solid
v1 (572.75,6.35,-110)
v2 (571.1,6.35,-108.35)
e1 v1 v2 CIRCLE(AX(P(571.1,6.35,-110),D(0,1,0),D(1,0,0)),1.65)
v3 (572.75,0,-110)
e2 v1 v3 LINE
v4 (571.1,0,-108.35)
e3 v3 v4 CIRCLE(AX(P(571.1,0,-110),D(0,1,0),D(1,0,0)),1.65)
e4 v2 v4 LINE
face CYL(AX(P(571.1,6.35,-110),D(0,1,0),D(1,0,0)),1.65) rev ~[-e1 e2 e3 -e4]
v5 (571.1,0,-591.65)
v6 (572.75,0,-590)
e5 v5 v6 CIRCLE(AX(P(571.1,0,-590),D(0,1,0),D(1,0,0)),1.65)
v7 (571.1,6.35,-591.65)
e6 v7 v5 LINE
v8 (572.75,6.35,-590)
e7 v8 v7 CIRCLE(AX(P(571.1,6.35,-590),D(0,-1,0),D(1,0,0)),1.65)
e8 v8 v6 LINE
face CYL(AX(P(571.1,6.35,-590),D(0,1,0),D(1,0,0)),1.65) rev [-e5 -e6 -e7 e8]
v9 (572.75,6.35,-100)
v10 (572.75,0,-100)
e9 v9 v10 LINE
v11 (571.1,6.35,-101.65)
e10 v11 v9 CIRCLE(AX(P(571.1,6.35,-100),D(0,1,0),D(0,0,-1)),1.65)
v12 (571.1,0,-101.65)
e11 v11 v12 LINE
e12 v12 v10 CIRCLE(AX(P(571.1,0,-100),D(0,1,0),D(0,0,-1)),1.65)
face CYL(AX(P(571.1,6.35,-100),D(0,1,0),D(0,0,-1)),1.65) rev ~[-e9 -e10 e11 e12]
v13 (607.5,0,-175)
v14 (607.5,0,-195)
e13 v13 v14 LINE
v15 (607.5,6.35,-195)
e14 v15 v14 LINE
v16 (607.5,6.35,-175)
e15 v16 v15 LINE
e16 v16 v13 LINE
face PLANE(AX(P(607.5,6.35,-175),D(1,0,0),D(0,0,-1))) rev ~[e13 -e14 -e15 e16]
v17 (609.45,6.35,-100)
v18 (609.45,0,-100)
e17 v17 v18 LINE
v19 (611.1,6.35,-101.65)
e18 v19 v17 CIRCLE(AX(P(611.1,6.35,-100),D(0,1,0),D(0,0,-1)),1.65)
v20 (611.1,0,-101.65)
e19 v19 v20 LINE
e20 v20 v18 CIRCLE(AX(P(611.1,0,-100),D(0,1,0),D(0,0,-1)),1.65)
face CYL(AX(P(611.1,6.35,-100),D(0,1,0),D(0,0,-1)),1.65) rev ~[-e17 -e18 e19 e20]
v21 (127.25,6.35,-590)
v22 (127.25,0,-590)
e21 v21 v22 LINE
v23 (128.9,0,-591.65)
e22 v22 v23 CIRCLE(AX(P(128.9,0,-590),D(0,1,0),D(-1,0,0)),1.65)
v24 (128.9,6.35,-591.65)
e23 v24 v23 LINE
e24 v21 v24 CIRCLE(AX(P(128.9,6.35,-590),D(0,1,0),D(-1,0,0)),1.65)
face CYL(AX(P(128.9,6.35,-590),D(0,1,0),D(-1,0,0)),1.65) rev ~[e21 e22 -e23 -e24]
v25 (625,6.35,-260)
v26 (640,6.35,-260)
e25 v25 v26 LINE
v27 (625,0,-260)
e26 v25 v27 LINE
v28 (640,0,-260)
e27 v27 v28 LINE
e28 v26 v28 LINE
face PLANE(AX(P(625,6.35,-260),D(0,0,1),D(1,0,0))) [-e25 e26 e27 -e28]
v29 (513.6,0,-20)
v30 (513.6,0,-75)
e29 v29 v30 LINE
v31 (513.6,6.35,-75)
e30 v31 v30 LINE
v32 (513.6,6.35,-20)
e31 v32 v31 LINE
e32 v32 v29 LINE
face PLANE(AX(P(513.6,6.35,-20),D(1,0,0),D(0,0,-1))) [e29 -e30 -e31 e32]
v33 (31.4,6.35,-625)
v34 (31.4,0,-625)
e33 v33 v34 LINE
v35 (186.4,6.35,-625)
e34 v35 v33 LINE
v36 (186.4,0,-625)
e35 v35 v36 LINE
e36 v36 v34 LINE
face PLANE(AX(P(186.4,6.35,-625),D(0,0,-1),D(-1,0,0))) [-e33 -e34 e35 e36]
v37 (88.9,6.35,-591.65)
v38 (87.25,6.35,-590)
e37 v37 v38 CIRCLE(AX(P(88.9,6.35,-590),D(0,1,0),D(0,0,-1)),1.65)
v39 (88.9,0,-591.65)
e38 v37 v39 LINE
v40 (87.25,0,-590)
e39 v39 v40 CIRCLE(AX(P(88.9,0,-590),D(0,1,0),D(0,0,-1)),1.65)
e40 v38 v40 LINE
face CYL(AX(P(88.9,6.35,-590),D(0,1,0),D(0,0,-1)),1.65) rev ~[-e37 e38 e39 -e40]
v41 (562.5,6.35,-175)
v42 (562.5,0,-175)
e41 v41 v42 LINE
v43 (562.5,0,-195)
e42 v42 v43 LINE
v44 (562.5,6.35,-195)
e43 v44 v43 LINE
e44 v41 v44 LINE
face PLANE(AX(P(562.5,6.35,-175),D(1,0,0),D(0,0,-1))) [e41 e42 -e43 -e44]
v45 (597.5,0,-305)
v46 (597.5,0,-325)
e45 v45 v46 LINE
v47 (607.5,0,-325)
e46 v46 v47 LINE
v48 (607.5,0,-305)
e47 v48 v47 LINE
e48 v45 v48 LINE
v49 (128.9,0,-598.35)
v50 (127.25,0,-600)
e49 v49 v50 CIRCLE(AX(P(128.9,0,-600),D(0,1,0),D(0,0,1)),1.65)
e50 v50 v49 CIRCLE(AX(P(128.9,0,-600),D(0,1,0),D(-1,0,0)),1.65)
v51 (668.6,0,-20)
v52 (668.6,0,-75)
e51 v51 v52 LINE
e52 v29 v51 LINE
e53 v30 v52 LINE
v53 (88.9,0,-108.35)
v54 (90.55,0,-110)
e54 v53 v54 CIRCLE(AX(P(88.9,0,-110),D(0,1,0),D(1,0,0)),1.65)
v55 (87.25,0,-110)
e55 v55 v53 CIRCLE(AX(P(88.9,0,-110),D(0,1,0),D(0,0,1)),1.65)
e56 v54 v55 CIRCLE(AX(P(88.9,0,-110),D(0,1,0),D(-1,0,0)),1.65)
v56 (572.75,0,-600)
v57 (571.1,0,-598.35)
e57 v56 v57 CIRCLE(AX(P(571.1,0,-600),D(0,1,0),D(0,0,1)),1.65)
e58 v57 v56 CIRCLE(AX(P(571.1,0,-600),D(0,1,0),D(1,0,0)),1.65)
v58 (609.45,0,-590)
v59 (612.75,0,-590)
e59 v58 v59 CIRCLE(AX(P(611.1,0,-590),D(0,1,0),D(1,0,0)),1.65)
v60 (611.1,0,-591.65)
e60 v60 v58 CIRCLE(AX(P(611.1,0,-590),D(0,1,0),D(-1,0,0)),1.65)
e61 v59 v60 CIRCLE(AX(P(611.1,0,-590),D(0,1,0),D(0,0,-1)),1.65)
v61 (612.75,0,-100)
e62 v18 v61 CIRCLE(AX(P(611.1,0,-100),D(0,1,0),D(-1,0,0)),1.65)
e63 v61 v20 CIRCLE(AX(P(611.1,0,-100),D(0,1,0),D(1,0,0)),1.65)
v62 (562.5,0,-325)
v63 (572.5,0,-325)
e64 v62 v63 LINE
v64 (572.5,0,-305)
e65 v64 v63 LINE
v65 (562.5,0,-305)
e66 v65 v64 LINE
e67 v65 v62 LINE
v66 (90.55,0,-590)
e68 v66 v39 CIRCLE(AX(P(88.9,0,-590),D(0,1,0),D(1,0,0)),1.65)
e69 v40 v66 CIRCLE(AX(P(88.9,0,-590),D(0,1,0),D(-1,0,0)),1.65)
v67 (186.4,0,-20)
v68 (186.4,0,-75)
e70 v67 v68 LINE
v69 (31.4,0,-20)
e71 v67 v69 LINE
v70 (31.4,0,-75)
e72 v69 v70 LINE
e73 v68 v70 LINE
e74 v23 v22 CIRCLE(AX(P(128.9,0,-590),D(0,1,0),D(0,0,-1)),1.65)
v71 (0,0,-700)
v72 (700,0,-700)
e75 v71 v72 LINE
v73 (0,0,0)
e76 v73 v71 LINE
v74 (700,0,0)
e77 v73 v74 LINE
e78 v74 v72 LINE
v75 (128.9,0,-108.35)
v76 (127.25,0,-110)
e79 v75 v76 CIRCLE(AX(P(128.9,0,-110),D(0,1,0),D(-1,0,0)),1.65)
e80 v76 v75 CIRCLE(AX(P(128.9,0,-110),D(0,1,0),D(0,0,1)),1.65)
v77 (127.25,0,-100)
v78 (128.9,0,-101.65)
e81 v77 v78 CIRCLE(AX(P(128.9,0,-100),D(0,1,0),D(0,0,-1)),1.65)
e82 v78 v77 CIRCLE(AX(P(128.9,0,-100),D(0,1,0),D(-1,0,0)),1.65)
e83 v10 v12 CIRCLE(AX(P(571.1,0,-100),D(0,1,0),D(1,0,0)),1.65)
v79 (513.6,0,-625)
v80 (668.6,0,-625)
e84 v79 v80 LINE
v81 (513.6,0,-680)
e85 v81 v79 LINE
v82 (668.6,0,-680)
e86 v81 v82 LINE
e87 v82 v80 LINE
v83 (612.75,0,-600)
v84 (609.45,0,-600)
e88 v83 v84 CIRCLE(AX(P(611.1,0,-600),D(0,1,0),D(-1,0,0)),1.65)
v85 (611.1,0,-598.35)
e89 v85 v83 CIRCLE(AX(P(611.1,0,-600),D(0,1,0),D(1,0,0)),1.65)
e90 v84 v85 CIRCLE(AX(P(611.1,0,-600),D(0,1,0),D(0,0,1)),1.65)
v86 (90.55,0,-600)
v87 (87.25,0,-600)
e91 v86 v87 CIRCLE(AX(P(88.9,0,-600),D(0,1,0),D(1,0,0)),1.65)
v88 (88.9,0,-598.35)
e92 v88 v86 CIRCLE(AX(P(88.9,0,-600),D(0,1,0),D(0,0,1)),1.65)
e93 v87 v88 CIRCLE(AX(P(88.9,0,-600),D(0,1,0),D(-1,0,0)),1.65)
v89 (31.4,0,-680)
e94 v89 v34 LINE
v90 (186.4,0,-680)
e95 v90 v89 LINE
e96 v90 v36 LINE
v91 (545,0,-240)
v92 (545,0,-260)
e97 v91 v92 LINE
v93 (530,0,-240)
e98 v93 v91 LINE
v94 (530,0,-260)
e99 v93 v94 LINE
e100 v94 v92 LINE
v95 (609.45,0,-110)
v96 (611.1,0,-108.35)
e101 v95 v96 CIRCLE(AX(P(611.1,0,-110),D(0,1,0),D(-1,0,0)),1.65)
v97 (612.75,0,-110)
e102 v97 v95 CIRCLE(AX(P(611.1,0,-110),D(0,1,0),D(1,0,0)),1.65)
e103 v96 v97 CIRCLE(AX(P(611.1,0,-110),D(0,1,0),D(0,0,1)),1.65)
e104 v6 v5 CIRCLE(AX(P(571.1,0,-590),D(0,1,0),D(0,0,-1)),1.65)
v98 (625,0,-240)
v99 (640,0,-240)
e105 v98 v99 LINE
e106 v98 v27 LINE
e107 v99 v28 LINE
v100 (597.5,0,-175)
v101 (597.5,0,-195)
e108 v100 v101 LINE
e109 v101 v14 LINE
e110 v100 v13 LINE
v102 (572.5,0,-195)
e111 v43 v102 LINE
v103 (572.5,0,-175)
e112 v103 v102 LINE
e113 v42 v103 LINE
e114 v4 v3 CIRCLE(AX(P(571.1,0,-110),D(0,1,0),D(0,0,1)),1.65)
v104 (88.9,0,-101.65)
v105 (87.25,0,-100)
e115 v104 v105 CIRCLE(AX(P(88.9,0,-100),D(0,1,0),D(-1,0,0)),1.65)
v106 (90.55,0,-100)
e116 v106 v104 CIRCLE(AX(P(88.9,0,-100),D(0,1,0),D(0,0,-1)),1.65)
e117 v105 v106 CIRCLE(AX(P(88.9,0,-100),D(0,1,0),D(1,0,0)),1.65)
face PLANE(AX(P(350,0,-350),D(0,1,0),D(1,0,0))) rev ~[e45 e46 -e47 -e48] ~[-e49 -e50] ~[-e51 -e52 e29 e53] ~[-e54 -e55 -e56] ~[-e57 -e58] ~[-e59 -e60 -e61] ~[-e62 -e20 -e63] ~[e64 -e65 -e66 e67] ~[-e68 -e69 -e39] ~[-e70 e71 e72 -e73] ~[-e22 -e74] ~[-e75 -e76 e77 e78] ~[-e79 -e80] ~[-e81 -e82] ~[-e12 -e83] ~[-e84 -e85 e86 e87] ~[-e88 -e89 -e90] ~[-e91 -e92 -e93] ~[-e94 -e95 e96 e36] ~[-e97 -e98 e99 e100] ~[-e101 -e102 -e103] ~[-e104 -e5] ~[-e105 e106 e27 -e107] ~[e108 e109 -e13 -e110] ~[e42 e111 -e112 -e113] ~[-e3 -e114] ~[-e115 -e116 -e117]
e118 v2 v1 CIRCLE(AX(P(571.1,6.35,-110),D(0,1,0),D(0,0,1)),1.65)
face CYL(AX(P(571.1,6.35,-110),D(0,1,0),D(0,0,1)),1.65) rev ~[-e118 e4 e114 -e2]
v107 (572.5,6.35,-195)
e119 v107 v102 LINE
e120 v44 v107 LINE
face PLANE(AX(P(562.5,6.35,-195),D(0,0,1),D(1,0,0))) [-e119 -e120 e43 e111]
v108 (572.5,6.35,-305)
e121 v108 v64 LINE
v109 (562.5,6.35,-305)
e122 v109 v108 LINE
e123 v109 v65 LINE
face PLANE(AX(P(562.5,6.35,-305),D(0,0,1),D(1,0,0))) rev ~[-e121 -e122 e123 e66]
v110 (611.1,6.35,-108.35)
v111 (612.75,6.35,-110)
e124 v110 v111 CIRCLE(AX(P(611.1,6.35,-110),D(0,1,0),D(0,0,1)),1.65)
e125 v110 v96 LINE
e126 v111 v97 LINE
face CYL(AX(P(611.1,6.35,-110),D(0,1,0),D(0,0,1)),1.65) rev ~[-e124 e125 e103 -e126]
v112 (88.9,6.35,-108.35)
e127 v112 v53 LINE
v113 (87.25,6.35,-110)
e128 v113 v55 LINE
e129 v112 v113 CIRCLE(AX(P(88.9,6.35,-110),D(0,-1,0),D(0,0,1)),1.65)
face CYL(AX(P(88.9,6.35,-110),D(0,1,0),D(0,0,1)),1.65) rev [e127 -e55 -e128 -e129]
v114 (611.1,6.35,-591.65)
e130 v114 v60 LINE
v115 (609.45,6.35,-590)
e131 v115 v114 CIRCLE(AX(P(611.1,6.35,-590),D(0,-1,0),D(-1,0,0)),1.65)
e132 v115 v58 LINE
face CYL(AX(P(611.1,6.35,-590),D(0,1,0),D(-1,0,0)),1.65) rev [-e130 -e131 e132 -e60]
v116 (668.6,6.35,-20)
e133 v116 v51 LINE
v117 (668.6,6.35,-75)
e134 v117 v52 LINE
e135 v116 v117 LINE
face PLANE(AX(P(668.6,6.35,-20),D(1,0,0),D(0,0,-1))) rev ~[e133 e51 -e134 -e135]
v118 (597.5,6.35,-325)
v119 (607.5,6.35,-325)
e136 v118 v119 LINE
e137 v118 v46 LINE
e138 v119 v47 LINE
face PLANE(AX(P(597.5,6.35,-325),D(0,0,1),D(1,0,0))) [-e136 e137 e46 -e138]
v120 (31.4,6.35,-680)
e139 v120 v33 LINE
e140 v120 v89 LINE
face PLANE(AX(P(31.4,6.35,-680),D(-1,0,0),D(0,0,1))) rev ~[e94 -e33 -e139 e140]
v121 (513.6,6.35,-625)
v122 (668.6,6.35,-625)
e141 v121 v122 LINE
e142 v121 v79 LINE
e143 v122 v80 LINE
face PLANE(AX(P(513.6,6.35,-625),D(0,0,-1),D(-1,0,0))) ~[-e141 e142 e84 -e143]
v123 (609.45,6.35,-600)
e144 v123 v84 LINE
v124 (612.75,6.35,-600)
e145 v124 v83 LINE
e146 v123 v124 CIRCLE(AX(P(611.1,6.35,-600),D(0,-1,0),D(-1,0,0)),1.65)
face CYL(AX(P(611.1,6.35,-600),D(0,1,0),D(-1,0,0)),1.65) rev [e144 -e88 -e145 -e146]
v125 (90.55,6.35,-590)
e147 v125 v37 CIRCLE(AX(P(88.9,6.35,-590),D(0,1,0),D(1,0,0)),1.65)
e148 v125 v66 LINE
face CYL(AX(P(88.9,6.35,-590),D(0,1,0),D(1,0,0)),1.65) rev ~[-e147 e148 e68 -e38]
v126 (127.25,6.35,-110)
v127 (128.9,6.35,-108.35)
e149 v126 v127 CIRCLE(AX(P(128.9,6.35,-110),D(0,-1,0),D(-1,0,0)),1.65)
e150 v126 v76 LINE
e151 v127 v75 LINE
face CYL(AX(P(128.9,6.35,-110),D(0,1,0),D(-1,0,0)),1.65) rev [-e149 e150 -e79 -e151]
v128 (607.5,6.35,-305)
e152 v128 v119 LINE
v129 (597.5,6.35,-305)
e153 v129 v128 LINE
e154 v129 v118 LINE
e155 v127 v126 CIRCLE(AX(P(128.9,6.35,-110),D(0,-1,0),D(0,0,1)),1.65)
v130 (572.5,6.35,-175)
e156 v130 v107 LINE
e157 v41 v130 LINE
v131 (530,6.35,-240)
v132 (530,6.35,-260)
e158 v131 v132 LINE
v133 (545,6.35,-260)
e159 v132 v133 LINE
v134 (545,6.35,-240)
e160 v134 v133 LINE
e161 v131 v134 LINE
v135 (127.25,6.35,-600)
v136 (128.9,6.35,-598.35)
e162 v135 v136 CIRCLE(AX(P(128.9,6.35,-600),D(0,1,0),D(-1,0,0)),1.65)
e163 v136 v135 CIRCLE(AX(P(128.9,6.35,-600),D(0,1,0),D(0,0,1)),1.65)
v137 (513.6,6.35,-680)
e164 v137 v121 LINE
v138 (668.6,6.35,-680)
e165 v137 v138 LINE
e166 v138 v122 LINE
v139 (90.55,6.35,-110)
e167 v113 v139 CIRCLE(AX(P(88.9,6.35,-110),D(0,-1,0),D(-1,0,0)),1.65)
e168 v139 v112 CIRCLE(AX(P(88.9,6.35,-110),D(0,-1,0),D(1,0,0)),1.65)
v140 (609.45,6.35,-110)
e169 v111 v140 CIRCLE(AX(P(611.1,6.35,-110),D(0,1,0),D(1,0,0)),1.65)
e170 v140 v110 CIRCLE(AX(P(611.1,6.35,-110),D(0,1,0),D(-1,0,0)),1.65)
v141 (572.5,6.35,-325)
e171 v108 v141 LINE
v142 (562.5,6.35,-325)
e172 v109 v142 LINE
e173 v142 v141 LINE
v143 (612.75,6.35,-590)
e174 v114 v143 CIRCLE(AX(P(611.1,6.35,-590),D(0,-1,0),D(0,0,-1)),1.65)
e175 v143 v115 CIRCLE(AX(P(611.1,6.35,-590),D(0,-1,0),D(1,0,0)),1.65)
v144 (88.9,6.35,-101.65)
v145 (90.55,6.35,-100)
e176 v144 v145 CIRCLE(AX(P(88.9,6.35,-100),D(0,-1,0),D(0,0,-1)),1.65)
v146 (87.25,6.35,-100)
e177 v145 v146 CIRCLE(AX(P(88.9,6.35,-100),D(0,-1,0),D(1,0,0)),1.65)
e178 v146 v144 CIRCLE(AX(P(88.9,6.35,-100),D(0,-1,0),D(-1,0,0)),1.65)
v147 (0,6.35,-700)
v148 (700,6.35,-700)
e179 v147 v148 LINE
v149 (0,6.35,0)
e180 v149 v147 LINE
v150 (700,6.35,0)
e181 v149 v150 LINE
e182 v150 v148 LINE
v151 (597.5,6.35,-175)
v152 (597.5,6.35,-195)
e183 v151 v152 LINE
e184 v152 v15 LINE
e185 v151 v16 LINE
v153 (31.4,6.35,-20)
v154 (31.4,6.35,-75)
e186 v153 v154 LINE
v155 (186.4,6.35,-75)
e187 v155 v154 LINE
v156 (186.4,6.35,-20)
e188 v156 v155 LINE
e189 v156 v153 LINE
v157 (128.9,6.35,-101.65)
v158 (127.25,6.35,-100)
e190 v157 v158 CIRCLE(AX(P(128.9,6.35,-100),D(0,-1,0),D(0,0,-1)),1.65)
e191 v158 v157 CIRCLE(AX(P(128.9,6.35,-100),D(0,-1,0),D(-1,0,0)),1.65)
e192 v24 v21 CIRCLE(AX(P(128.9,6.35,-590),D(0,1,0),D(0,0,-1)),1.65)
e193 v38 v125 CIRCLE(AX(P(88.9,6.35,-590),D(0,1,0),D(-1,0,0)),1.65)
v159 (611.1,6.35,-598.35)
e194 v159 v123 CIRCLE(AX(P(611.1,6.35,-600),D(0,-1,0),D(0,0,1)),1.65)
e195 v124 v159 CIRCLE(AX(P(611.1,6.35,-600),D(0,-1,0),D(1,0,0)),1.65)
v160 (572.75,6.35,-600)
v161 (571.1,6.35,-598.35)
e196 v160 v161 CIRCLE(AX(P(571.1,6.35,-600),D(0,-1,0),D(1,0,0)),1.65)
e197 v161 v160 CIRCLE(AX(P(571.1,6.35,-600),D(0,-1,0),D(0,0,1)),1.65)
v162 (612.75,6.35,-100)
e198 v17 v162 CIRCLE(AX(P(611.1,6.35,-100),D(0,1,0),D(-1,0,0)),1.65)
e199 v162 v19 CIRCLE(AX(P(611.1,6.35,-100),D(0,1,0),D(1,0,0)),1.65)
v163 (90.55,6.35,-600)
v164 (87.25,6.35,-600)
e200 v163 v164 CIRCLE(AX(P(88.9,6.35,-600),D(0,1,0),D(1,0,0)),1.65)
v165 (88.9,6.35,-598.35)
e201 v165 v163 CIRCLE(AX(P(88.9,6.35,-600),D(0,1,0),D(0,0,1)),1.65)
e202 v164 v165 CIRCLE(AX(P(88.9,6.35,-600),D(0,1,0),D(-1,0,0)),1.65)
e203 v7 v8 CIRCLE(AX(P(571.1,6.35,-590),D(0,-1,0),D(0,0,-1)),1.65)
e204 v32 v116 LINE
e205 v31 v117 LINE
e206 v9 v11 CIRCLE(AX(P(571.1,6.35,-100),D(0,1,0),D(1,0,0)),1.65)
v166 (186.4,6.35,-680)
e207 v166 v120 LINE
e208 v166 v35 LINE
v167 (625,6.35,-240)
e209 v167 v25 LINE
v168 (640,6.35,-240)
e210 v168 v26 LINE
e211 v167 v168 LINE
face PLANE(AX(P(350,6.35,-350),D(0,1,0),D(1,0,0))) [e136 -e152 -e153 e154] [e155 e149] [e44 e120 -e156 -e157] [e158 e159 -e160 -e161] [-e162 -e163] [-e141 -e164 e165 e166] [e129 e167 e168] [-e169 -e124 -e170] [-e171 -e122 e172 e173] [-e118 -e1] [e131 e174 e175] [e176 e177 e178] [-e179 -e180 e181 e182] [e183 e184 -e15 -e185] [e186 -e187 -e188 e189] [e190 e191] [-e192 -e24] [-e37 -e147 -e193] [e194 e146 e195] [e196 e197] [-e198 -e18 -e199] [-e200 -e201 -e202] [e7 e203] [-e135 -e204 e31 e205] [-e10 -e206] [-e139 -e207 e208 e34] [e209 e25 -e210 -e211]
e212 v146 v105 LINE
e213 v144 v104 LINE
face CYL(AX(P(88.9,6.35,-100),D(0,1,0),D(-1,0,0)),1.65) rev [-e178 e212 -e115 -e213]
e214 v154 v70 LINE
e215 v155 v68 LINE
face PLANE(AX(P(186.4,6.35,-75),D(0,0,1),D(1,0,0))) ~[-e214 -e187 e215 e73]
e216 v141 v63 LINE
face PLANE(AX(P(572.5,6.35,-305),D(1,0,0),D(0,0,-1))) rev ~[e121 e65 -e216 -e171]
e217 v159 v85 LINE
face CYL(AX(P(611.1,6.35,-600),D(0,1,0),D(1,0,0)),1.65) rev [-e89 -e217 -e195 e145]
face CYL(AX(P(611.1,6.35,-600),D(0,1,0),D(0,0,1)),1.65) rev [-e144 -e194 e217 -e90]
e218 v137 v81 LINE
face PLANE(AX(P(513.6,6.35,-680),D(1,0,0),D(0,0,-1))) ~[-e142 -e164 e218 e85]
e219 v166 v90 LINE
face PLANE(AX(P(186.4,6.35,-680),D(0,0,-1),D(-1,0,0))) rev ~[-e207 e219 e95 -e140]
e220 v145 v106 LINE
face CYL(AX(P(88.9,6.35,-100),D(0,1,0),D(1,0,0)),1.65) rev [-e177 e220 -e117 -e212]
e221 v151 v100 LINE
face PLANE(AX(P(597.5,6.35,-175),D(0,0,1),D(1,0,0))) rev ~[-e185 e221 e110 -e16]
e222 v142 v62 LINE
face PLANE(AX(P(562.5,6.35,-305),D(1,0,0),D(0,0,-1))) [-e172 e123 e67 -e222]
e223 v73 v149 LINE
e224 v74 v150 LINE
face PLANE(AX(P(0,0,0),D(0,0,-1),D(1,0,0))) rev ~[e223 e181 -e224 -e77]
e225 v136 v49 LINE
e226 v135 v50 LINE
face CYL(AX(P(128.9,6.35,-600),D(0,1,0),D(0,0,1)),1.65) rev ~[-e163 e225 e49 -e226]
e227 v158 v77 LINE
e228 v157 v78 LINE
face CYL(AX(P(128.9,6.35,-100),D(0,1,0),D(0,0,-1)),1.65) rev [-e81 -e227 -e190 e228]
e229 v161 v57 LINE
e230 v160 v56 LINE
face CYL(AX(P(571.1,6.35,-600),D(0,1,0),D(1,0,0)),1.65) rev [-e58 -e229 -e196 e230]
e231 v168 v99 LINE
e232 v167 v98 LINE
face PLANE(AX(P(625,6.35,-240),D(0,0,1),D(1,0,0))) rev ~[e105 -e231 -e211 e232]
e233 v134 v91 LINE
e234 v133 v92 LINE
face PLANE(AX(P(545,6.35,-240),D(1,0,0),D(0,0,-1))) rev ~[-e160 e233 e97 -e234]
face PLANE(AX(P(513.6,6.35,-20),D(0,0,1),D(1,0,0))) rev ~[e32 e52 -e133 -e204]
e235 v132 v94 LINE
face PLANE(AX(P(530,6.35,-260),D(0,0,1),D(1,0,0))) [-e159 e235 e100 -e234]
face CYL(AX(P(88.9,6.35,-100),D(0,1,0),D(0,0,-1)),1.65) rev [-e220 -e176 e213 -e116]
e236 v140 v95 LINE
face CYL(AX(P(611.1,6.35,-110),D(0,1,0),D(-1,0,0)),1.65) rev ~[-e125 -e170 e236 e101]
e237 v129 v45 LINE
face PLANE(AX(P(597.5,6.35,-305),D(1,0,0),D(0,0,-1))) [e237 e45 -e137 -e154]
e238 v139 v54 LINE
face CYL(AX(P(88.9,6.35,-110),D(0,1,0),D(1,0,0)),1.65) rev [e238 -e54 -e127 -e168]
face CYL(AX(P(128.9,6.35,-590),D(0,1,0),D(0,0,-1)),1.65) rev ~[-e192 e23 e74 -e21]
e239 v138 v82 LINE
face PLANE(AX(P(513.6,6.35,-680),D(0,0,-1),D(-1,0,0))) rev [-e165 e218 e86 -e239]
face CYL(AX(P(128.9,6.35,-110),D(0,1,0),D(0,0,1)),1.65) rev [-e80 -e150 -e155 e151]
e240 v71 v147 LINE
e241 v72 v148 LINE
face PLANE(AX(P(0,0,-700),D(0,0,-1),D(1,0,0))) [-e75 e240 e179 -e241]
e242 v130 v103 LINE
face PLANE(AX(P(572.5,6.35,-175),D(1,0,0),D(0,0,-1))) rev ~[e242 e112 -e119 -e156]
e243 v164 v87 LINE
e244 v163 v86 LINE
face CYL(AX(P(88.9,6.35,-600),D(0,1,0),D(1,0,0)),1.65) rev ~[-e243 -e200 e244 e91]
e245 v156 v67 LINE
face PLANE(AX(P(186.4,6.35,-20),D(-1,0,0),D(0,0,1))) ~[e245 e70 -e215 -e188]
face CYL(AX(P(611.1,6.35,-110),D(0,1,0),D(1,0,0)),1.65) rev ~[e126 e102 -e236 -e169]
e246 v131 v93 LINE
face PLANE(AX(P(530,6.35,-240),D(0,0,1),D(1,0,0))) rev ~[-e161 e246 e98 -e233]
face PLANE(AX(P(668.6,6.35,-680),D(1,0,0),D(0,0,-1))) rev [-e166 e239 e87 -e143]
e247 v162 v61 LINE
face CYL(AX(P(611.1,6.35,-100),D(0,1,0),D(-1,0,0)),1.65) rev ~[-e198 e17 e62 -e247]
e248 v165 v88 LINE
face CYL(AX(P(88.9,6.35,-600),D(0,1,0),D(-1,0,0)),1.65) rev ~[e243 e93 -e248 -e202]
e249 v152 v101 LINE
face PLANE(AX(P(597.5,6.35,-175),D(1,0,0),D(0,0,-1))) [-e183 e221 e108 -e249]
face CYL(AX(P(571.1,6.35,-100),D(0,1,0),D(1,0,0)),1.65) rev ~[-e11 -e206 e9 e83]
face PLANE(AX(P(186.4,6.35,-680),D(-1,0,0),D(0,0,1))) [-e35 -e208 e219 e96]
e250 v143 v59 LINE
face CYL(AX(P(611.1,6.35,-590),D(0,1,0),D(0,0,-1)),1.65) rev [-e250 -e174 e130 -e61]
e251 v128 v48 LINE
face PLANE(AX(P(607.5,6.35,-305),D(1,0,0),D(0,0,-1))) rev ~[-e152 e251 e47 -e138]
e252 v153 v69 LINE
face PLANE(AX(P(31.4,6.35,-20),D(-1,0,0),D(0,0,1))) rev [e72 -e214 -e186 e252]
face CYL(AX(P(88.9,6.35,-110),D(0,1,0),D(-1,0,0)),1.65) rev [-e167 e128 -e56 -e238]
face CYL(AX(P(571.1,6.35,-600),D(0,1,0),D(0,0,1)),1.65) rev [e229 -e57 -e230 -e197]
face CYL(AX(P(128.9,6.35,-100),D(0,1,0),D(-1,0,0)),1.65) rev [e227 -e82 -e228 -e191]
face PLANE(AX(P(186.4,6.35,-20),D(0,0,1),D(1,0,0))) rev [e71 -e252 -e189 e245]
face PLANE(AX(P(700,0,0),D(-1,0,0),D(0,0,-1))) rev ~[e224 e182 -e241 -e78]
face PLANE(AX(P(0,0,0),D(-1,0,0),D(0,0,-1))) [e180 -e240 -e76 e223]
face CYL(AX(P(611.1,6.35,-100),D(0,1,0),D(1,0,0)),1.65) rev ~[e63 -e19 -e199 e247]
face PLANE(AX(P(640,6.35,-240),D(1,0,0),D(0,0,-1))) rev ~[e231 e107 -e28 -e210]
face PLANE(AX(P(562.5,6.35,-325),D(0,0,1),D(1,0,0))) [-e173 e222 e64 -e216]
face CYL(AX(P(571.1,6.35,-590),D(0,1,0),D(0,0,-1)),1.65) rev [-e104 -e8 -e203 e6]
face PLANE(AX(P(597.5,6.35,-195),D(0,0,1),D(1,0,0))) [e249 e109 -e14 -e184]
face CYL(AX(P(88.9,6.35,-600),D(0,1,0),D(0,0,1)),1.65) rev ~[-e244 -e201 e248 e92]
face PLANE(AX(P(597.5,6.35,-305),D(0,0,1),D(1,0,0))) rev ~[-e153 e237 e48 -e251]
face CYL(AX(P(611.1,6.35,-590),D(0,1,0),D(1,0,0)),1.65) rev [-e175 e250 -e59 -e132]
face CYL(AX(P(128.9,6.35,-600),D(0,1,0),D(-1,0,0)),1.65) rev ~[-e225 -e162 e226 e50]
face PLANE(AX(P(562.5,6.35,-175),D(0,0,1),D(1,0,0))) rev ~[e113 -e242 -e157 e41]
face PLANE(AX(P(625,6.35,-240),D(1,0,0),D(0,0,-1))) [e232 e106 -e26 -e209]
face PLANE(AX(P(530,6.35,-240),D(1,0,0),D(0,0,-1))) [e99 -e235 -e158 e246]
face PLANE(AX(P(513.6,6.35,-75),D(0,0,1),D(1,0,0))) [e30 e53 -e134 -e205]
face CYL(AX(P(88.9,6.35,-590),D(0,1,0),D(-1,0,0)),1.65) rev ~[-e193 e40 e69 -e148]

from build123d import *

# Parameters (mm, degrees)
SKETCH1_W                                  = 700
SKETCH1_H                                  = 700
BOSS_EXTRUDE1_DEPTH                        = 6.35
SKETCH2_W                                  = 155
SKETCH2_H                                  = 55
CUT_EXTRUDE2_DEPTH                         = 10
MIRROR1_AT_THE_SECOND_PLANE_COPY_1_SKETC_W = 155
MIRROR1_AT_THE_SECOND_PLANE_COPY_1_SKETC_H = 55
MIRROR1_AT_THE_SECOND_PLANE_COPY_1_DEPTH   = 10
SKETCH3_W                                  = 10
SKETCH3_H                                  = 20
SKETCH3_W_2                                = 15
CUT_EXTRUDE3_DEPTH                         = 990.96985939


with BuildPart() as part:
    # Sketch1 → Boss-Extrude1 (new body)
    with BuildSketch(Plane(origin=(0, 0, 0), x_dir=(1, 0, 0), z_dir=(0, 1, 0))):
        with Locations((350, 350)):
            Rectangle(SKETCH1_W, SKETCH1_H)
    extrude(amount=BOSS_EXTRUDE1_DEPTH)

    # Sketch2 → Cut-Extrude2 (cut)
    with BuildSketch(Plane(origin=(0, 6.35, 0), x_dir=(1, 0, 0), z_dir=(0, 1, 0))):
        with BuildLine():
            ThreePointArc((572.75, 110), (569.933273811, 111.166726189), (571.1, 108.35))
            Line((571.1, 108.35), (571.1, 110))
            Line((571.1, 110), (572.75, 110))
        make_face()
        with BuildLine():
            Line((571.1, 110), (571.1, 108.35))
            ThreePointArc((571.1, 108.35), (572.266726189, 108.833273811), (572.75, 110))
            Line((572.75, 110), (571.1, 110))
        make_face()
        with BuildLine():
            ThreePointArc((571.1, 101.65), (569.933273811, 98.833273811), (572.75, 100))
            Line((572.75, 100), (571.1, 100))
            Line((571.1, 100), (571.1, 101.65))
        make_face()
        with BuildLine():
            Line((571.1, 100), (572.75, 100))
            ThreePointArc((572.75, 100), (572.266726189, 101.166726189), (571.1, 101.65))
            Line((571.1, 101.65), (571.1, 100))
        make_face()
        with BuildLine():
            ThreePointArc((609.45, 110), (609.933273811, 108.833273811), (611.1, 108.35))
            Line((611.1, 108.35), (611.1, 110))
            Line((611.1, 110), (609.45, 110))
        make_face()
        with BuildLine():
            Line((611.1, 110), (611.1, 108.35))
            ThreePointArc((611.1, 108.35), (612.266726189, 108.833273811), (612.75, 110))
            ThreePointArc((612.75, 110), (611.1, 111.65), (609.45, 110))
            Line((609.45, 110), (611.1, 110))
        make_face()
        with BuildLine():
            ThreePointArc((611.1, 101.65), (609.933273811, 101.166726189), (609.45, 100))
            Line((609.45, 100), (611.1, 100))
            Line((611.1, 100), (611.1, 101.65))
        make_face()
        with BuildLine():
            Line((611.1, 100), (609.45, 100))
            ThreePointArc((609.45, 100), (611.1, 98.35), (612.75, 100))
            ThreePointArc((612.75, 100), (612.266726189, 101.166726189), (611.1, 101.65))
            Line((611.1, 101.65), (611.1, 100))
        make_face()
        with Locations((591.1, 47.5)):
            Rectangle(SKETCH2_W, SKETCH2_H)
    cut_extrude2 = extrude(amount=-CUT_EXTRUDE2_DEPTH, mode=Mode.SUBTRACT)

    # Mirror1: Cut-Extrude2 across plane
    add(cut_extrude2.mirror(Plane(origin=(350, 0, 0), x_dir=(0, 0, 1), z_dir=(1, 0, 0))), mode=Mode.SUBTRACT)

    # Mirror1 at the second plane: Cut-Extrude2 across plane
    add(cut_extrude2.mirror(Plane.XY.offset(-350)), mode=Mode.SUBTRACT)

    # Mirror1 at the second plane copy 1 sketc → Mirror1 at the second plane copy 1 (cut)
    with BuildSketch(Plane(origin=(700, 6.35, -700), x_dir=(-1, 0, 0), z_dir=(0, 1, 0))):
        with BuildLine():
            ThreePointArc((572.75, 110), (569.933273811, 111.166726189), (571.1, 108.35))
            Line((571.1, 108.35), (571.1, 110))
            Line((571.1, 110), (572.75, 110))
        make_face()
        with BuildLine():
            Line((571.1, 110), (571.1, 108.35))
            ThreePointArc((571.1, 108.35), (572.266726189, 108.833273811), (572.75, 110))
            Line((572.75, 110), (571.1, 110))
        make_face()
        with BuildLine():
            ThreePointArc((571.1, 101.65), (569.933273811, 98.833273811), (572.75, 100))
            Line((572.75, 100), (571.1, 100))
            Line((571.1, 100), (571.1, 101.65))
        make_face()
        with BuildLine():
            Line((571.1, 100), (572.75, 100))
            ThreePointArc((572.75, 100), (572.266726189, 101.166726189), (571.1, 101.65))
            Line((571.1, 101.65), (571.1, 100))
        make_face()
        with BuildLine():
            ThreePointArc((609.45, 110), (609.933273811, 108.833273811), (611.1, 108.35))
            Line((611.1, 108.35), (611.1, 110))
            Line((611.1, 110), (609.45, 110))
        make_face()
        with BuildLine():
            Line((611.1, 110), (611.1, 108.35))
            ThreePointArc((611.1, 108.35), (612.266726189, 108.833273811), (612.75, 110))
            ThreePointArc((612.75, 110), (611.1, 111.65), (609.45, 110))
            Line((609.45, 110), (611.1, 110))
        make_face()
        with BuildLine():
            ThreePointArc((611.1, 101.65), (609.933273811, 101.166726189), (609.45, 100))
            Line((609.45, 100), (611.1, 100))
            Line((611.1, 100), (611.1, 101.65))
        make_face()
        with BuildLine():
            Line((611.1, 100), (609.45, 100))
            ThreePointArc((609.45, 100), (611.1, 98.35), (612.75, 100))
            ThreePointArc((612.75, 100), (612.266726189, 101.166726189), (611.1, 101.65))
            Line((611.1, 101.65), (611.1, 100))
        make_face()
        with Locations((591.1, 47.5)):
            Rectangle(MIRROR1_AT_THE_SECOND_PLANE_COPY_1_SKETC_W, MIRROR1_AT_THE_SECOND_PLANE_COPY_1_SKETC_H)
    extrude(amount=-MIRROR1_AT_THE_SECOND_PLANE_COPY_1_DEPTH, mode=Mode.SUBTRACT)

    # Sketch3 → Cut-Extrude3 (cut, through all)
    with BuildSketch(Plane(origin=(0, 6.35, 0), x_dir=(1, 0, 0), z_dir=(0, 1, 0))):
        with Locations((567.5, 315)):
            Rectangle(SKETCH3_W, SKETCH3_H)
        with Locations((602.5, 315)):
            Rectangle(SKETCH3_W, SKETCH3_H)
        with Locations((537.5, 250)):
            Rectangle(SKETCH3_W_2, SKETCH3_H)
        with Locations((632.5, 250)):
            Rectangle(SKETCH3_W_2, SKETCH3_H)
        with Locations((567.5, 185)):
            Rectangle(SKETCH3_W, SKETCH3_H)
        with Locations((602.5, 185)):
            Rectangle(SKETCH3_W, SKETCH3_H)
    extrude(amount=-CUT_EXTRUDE3_DEPTH, mode=Mode.SUBTRACT)


solid = part.part
